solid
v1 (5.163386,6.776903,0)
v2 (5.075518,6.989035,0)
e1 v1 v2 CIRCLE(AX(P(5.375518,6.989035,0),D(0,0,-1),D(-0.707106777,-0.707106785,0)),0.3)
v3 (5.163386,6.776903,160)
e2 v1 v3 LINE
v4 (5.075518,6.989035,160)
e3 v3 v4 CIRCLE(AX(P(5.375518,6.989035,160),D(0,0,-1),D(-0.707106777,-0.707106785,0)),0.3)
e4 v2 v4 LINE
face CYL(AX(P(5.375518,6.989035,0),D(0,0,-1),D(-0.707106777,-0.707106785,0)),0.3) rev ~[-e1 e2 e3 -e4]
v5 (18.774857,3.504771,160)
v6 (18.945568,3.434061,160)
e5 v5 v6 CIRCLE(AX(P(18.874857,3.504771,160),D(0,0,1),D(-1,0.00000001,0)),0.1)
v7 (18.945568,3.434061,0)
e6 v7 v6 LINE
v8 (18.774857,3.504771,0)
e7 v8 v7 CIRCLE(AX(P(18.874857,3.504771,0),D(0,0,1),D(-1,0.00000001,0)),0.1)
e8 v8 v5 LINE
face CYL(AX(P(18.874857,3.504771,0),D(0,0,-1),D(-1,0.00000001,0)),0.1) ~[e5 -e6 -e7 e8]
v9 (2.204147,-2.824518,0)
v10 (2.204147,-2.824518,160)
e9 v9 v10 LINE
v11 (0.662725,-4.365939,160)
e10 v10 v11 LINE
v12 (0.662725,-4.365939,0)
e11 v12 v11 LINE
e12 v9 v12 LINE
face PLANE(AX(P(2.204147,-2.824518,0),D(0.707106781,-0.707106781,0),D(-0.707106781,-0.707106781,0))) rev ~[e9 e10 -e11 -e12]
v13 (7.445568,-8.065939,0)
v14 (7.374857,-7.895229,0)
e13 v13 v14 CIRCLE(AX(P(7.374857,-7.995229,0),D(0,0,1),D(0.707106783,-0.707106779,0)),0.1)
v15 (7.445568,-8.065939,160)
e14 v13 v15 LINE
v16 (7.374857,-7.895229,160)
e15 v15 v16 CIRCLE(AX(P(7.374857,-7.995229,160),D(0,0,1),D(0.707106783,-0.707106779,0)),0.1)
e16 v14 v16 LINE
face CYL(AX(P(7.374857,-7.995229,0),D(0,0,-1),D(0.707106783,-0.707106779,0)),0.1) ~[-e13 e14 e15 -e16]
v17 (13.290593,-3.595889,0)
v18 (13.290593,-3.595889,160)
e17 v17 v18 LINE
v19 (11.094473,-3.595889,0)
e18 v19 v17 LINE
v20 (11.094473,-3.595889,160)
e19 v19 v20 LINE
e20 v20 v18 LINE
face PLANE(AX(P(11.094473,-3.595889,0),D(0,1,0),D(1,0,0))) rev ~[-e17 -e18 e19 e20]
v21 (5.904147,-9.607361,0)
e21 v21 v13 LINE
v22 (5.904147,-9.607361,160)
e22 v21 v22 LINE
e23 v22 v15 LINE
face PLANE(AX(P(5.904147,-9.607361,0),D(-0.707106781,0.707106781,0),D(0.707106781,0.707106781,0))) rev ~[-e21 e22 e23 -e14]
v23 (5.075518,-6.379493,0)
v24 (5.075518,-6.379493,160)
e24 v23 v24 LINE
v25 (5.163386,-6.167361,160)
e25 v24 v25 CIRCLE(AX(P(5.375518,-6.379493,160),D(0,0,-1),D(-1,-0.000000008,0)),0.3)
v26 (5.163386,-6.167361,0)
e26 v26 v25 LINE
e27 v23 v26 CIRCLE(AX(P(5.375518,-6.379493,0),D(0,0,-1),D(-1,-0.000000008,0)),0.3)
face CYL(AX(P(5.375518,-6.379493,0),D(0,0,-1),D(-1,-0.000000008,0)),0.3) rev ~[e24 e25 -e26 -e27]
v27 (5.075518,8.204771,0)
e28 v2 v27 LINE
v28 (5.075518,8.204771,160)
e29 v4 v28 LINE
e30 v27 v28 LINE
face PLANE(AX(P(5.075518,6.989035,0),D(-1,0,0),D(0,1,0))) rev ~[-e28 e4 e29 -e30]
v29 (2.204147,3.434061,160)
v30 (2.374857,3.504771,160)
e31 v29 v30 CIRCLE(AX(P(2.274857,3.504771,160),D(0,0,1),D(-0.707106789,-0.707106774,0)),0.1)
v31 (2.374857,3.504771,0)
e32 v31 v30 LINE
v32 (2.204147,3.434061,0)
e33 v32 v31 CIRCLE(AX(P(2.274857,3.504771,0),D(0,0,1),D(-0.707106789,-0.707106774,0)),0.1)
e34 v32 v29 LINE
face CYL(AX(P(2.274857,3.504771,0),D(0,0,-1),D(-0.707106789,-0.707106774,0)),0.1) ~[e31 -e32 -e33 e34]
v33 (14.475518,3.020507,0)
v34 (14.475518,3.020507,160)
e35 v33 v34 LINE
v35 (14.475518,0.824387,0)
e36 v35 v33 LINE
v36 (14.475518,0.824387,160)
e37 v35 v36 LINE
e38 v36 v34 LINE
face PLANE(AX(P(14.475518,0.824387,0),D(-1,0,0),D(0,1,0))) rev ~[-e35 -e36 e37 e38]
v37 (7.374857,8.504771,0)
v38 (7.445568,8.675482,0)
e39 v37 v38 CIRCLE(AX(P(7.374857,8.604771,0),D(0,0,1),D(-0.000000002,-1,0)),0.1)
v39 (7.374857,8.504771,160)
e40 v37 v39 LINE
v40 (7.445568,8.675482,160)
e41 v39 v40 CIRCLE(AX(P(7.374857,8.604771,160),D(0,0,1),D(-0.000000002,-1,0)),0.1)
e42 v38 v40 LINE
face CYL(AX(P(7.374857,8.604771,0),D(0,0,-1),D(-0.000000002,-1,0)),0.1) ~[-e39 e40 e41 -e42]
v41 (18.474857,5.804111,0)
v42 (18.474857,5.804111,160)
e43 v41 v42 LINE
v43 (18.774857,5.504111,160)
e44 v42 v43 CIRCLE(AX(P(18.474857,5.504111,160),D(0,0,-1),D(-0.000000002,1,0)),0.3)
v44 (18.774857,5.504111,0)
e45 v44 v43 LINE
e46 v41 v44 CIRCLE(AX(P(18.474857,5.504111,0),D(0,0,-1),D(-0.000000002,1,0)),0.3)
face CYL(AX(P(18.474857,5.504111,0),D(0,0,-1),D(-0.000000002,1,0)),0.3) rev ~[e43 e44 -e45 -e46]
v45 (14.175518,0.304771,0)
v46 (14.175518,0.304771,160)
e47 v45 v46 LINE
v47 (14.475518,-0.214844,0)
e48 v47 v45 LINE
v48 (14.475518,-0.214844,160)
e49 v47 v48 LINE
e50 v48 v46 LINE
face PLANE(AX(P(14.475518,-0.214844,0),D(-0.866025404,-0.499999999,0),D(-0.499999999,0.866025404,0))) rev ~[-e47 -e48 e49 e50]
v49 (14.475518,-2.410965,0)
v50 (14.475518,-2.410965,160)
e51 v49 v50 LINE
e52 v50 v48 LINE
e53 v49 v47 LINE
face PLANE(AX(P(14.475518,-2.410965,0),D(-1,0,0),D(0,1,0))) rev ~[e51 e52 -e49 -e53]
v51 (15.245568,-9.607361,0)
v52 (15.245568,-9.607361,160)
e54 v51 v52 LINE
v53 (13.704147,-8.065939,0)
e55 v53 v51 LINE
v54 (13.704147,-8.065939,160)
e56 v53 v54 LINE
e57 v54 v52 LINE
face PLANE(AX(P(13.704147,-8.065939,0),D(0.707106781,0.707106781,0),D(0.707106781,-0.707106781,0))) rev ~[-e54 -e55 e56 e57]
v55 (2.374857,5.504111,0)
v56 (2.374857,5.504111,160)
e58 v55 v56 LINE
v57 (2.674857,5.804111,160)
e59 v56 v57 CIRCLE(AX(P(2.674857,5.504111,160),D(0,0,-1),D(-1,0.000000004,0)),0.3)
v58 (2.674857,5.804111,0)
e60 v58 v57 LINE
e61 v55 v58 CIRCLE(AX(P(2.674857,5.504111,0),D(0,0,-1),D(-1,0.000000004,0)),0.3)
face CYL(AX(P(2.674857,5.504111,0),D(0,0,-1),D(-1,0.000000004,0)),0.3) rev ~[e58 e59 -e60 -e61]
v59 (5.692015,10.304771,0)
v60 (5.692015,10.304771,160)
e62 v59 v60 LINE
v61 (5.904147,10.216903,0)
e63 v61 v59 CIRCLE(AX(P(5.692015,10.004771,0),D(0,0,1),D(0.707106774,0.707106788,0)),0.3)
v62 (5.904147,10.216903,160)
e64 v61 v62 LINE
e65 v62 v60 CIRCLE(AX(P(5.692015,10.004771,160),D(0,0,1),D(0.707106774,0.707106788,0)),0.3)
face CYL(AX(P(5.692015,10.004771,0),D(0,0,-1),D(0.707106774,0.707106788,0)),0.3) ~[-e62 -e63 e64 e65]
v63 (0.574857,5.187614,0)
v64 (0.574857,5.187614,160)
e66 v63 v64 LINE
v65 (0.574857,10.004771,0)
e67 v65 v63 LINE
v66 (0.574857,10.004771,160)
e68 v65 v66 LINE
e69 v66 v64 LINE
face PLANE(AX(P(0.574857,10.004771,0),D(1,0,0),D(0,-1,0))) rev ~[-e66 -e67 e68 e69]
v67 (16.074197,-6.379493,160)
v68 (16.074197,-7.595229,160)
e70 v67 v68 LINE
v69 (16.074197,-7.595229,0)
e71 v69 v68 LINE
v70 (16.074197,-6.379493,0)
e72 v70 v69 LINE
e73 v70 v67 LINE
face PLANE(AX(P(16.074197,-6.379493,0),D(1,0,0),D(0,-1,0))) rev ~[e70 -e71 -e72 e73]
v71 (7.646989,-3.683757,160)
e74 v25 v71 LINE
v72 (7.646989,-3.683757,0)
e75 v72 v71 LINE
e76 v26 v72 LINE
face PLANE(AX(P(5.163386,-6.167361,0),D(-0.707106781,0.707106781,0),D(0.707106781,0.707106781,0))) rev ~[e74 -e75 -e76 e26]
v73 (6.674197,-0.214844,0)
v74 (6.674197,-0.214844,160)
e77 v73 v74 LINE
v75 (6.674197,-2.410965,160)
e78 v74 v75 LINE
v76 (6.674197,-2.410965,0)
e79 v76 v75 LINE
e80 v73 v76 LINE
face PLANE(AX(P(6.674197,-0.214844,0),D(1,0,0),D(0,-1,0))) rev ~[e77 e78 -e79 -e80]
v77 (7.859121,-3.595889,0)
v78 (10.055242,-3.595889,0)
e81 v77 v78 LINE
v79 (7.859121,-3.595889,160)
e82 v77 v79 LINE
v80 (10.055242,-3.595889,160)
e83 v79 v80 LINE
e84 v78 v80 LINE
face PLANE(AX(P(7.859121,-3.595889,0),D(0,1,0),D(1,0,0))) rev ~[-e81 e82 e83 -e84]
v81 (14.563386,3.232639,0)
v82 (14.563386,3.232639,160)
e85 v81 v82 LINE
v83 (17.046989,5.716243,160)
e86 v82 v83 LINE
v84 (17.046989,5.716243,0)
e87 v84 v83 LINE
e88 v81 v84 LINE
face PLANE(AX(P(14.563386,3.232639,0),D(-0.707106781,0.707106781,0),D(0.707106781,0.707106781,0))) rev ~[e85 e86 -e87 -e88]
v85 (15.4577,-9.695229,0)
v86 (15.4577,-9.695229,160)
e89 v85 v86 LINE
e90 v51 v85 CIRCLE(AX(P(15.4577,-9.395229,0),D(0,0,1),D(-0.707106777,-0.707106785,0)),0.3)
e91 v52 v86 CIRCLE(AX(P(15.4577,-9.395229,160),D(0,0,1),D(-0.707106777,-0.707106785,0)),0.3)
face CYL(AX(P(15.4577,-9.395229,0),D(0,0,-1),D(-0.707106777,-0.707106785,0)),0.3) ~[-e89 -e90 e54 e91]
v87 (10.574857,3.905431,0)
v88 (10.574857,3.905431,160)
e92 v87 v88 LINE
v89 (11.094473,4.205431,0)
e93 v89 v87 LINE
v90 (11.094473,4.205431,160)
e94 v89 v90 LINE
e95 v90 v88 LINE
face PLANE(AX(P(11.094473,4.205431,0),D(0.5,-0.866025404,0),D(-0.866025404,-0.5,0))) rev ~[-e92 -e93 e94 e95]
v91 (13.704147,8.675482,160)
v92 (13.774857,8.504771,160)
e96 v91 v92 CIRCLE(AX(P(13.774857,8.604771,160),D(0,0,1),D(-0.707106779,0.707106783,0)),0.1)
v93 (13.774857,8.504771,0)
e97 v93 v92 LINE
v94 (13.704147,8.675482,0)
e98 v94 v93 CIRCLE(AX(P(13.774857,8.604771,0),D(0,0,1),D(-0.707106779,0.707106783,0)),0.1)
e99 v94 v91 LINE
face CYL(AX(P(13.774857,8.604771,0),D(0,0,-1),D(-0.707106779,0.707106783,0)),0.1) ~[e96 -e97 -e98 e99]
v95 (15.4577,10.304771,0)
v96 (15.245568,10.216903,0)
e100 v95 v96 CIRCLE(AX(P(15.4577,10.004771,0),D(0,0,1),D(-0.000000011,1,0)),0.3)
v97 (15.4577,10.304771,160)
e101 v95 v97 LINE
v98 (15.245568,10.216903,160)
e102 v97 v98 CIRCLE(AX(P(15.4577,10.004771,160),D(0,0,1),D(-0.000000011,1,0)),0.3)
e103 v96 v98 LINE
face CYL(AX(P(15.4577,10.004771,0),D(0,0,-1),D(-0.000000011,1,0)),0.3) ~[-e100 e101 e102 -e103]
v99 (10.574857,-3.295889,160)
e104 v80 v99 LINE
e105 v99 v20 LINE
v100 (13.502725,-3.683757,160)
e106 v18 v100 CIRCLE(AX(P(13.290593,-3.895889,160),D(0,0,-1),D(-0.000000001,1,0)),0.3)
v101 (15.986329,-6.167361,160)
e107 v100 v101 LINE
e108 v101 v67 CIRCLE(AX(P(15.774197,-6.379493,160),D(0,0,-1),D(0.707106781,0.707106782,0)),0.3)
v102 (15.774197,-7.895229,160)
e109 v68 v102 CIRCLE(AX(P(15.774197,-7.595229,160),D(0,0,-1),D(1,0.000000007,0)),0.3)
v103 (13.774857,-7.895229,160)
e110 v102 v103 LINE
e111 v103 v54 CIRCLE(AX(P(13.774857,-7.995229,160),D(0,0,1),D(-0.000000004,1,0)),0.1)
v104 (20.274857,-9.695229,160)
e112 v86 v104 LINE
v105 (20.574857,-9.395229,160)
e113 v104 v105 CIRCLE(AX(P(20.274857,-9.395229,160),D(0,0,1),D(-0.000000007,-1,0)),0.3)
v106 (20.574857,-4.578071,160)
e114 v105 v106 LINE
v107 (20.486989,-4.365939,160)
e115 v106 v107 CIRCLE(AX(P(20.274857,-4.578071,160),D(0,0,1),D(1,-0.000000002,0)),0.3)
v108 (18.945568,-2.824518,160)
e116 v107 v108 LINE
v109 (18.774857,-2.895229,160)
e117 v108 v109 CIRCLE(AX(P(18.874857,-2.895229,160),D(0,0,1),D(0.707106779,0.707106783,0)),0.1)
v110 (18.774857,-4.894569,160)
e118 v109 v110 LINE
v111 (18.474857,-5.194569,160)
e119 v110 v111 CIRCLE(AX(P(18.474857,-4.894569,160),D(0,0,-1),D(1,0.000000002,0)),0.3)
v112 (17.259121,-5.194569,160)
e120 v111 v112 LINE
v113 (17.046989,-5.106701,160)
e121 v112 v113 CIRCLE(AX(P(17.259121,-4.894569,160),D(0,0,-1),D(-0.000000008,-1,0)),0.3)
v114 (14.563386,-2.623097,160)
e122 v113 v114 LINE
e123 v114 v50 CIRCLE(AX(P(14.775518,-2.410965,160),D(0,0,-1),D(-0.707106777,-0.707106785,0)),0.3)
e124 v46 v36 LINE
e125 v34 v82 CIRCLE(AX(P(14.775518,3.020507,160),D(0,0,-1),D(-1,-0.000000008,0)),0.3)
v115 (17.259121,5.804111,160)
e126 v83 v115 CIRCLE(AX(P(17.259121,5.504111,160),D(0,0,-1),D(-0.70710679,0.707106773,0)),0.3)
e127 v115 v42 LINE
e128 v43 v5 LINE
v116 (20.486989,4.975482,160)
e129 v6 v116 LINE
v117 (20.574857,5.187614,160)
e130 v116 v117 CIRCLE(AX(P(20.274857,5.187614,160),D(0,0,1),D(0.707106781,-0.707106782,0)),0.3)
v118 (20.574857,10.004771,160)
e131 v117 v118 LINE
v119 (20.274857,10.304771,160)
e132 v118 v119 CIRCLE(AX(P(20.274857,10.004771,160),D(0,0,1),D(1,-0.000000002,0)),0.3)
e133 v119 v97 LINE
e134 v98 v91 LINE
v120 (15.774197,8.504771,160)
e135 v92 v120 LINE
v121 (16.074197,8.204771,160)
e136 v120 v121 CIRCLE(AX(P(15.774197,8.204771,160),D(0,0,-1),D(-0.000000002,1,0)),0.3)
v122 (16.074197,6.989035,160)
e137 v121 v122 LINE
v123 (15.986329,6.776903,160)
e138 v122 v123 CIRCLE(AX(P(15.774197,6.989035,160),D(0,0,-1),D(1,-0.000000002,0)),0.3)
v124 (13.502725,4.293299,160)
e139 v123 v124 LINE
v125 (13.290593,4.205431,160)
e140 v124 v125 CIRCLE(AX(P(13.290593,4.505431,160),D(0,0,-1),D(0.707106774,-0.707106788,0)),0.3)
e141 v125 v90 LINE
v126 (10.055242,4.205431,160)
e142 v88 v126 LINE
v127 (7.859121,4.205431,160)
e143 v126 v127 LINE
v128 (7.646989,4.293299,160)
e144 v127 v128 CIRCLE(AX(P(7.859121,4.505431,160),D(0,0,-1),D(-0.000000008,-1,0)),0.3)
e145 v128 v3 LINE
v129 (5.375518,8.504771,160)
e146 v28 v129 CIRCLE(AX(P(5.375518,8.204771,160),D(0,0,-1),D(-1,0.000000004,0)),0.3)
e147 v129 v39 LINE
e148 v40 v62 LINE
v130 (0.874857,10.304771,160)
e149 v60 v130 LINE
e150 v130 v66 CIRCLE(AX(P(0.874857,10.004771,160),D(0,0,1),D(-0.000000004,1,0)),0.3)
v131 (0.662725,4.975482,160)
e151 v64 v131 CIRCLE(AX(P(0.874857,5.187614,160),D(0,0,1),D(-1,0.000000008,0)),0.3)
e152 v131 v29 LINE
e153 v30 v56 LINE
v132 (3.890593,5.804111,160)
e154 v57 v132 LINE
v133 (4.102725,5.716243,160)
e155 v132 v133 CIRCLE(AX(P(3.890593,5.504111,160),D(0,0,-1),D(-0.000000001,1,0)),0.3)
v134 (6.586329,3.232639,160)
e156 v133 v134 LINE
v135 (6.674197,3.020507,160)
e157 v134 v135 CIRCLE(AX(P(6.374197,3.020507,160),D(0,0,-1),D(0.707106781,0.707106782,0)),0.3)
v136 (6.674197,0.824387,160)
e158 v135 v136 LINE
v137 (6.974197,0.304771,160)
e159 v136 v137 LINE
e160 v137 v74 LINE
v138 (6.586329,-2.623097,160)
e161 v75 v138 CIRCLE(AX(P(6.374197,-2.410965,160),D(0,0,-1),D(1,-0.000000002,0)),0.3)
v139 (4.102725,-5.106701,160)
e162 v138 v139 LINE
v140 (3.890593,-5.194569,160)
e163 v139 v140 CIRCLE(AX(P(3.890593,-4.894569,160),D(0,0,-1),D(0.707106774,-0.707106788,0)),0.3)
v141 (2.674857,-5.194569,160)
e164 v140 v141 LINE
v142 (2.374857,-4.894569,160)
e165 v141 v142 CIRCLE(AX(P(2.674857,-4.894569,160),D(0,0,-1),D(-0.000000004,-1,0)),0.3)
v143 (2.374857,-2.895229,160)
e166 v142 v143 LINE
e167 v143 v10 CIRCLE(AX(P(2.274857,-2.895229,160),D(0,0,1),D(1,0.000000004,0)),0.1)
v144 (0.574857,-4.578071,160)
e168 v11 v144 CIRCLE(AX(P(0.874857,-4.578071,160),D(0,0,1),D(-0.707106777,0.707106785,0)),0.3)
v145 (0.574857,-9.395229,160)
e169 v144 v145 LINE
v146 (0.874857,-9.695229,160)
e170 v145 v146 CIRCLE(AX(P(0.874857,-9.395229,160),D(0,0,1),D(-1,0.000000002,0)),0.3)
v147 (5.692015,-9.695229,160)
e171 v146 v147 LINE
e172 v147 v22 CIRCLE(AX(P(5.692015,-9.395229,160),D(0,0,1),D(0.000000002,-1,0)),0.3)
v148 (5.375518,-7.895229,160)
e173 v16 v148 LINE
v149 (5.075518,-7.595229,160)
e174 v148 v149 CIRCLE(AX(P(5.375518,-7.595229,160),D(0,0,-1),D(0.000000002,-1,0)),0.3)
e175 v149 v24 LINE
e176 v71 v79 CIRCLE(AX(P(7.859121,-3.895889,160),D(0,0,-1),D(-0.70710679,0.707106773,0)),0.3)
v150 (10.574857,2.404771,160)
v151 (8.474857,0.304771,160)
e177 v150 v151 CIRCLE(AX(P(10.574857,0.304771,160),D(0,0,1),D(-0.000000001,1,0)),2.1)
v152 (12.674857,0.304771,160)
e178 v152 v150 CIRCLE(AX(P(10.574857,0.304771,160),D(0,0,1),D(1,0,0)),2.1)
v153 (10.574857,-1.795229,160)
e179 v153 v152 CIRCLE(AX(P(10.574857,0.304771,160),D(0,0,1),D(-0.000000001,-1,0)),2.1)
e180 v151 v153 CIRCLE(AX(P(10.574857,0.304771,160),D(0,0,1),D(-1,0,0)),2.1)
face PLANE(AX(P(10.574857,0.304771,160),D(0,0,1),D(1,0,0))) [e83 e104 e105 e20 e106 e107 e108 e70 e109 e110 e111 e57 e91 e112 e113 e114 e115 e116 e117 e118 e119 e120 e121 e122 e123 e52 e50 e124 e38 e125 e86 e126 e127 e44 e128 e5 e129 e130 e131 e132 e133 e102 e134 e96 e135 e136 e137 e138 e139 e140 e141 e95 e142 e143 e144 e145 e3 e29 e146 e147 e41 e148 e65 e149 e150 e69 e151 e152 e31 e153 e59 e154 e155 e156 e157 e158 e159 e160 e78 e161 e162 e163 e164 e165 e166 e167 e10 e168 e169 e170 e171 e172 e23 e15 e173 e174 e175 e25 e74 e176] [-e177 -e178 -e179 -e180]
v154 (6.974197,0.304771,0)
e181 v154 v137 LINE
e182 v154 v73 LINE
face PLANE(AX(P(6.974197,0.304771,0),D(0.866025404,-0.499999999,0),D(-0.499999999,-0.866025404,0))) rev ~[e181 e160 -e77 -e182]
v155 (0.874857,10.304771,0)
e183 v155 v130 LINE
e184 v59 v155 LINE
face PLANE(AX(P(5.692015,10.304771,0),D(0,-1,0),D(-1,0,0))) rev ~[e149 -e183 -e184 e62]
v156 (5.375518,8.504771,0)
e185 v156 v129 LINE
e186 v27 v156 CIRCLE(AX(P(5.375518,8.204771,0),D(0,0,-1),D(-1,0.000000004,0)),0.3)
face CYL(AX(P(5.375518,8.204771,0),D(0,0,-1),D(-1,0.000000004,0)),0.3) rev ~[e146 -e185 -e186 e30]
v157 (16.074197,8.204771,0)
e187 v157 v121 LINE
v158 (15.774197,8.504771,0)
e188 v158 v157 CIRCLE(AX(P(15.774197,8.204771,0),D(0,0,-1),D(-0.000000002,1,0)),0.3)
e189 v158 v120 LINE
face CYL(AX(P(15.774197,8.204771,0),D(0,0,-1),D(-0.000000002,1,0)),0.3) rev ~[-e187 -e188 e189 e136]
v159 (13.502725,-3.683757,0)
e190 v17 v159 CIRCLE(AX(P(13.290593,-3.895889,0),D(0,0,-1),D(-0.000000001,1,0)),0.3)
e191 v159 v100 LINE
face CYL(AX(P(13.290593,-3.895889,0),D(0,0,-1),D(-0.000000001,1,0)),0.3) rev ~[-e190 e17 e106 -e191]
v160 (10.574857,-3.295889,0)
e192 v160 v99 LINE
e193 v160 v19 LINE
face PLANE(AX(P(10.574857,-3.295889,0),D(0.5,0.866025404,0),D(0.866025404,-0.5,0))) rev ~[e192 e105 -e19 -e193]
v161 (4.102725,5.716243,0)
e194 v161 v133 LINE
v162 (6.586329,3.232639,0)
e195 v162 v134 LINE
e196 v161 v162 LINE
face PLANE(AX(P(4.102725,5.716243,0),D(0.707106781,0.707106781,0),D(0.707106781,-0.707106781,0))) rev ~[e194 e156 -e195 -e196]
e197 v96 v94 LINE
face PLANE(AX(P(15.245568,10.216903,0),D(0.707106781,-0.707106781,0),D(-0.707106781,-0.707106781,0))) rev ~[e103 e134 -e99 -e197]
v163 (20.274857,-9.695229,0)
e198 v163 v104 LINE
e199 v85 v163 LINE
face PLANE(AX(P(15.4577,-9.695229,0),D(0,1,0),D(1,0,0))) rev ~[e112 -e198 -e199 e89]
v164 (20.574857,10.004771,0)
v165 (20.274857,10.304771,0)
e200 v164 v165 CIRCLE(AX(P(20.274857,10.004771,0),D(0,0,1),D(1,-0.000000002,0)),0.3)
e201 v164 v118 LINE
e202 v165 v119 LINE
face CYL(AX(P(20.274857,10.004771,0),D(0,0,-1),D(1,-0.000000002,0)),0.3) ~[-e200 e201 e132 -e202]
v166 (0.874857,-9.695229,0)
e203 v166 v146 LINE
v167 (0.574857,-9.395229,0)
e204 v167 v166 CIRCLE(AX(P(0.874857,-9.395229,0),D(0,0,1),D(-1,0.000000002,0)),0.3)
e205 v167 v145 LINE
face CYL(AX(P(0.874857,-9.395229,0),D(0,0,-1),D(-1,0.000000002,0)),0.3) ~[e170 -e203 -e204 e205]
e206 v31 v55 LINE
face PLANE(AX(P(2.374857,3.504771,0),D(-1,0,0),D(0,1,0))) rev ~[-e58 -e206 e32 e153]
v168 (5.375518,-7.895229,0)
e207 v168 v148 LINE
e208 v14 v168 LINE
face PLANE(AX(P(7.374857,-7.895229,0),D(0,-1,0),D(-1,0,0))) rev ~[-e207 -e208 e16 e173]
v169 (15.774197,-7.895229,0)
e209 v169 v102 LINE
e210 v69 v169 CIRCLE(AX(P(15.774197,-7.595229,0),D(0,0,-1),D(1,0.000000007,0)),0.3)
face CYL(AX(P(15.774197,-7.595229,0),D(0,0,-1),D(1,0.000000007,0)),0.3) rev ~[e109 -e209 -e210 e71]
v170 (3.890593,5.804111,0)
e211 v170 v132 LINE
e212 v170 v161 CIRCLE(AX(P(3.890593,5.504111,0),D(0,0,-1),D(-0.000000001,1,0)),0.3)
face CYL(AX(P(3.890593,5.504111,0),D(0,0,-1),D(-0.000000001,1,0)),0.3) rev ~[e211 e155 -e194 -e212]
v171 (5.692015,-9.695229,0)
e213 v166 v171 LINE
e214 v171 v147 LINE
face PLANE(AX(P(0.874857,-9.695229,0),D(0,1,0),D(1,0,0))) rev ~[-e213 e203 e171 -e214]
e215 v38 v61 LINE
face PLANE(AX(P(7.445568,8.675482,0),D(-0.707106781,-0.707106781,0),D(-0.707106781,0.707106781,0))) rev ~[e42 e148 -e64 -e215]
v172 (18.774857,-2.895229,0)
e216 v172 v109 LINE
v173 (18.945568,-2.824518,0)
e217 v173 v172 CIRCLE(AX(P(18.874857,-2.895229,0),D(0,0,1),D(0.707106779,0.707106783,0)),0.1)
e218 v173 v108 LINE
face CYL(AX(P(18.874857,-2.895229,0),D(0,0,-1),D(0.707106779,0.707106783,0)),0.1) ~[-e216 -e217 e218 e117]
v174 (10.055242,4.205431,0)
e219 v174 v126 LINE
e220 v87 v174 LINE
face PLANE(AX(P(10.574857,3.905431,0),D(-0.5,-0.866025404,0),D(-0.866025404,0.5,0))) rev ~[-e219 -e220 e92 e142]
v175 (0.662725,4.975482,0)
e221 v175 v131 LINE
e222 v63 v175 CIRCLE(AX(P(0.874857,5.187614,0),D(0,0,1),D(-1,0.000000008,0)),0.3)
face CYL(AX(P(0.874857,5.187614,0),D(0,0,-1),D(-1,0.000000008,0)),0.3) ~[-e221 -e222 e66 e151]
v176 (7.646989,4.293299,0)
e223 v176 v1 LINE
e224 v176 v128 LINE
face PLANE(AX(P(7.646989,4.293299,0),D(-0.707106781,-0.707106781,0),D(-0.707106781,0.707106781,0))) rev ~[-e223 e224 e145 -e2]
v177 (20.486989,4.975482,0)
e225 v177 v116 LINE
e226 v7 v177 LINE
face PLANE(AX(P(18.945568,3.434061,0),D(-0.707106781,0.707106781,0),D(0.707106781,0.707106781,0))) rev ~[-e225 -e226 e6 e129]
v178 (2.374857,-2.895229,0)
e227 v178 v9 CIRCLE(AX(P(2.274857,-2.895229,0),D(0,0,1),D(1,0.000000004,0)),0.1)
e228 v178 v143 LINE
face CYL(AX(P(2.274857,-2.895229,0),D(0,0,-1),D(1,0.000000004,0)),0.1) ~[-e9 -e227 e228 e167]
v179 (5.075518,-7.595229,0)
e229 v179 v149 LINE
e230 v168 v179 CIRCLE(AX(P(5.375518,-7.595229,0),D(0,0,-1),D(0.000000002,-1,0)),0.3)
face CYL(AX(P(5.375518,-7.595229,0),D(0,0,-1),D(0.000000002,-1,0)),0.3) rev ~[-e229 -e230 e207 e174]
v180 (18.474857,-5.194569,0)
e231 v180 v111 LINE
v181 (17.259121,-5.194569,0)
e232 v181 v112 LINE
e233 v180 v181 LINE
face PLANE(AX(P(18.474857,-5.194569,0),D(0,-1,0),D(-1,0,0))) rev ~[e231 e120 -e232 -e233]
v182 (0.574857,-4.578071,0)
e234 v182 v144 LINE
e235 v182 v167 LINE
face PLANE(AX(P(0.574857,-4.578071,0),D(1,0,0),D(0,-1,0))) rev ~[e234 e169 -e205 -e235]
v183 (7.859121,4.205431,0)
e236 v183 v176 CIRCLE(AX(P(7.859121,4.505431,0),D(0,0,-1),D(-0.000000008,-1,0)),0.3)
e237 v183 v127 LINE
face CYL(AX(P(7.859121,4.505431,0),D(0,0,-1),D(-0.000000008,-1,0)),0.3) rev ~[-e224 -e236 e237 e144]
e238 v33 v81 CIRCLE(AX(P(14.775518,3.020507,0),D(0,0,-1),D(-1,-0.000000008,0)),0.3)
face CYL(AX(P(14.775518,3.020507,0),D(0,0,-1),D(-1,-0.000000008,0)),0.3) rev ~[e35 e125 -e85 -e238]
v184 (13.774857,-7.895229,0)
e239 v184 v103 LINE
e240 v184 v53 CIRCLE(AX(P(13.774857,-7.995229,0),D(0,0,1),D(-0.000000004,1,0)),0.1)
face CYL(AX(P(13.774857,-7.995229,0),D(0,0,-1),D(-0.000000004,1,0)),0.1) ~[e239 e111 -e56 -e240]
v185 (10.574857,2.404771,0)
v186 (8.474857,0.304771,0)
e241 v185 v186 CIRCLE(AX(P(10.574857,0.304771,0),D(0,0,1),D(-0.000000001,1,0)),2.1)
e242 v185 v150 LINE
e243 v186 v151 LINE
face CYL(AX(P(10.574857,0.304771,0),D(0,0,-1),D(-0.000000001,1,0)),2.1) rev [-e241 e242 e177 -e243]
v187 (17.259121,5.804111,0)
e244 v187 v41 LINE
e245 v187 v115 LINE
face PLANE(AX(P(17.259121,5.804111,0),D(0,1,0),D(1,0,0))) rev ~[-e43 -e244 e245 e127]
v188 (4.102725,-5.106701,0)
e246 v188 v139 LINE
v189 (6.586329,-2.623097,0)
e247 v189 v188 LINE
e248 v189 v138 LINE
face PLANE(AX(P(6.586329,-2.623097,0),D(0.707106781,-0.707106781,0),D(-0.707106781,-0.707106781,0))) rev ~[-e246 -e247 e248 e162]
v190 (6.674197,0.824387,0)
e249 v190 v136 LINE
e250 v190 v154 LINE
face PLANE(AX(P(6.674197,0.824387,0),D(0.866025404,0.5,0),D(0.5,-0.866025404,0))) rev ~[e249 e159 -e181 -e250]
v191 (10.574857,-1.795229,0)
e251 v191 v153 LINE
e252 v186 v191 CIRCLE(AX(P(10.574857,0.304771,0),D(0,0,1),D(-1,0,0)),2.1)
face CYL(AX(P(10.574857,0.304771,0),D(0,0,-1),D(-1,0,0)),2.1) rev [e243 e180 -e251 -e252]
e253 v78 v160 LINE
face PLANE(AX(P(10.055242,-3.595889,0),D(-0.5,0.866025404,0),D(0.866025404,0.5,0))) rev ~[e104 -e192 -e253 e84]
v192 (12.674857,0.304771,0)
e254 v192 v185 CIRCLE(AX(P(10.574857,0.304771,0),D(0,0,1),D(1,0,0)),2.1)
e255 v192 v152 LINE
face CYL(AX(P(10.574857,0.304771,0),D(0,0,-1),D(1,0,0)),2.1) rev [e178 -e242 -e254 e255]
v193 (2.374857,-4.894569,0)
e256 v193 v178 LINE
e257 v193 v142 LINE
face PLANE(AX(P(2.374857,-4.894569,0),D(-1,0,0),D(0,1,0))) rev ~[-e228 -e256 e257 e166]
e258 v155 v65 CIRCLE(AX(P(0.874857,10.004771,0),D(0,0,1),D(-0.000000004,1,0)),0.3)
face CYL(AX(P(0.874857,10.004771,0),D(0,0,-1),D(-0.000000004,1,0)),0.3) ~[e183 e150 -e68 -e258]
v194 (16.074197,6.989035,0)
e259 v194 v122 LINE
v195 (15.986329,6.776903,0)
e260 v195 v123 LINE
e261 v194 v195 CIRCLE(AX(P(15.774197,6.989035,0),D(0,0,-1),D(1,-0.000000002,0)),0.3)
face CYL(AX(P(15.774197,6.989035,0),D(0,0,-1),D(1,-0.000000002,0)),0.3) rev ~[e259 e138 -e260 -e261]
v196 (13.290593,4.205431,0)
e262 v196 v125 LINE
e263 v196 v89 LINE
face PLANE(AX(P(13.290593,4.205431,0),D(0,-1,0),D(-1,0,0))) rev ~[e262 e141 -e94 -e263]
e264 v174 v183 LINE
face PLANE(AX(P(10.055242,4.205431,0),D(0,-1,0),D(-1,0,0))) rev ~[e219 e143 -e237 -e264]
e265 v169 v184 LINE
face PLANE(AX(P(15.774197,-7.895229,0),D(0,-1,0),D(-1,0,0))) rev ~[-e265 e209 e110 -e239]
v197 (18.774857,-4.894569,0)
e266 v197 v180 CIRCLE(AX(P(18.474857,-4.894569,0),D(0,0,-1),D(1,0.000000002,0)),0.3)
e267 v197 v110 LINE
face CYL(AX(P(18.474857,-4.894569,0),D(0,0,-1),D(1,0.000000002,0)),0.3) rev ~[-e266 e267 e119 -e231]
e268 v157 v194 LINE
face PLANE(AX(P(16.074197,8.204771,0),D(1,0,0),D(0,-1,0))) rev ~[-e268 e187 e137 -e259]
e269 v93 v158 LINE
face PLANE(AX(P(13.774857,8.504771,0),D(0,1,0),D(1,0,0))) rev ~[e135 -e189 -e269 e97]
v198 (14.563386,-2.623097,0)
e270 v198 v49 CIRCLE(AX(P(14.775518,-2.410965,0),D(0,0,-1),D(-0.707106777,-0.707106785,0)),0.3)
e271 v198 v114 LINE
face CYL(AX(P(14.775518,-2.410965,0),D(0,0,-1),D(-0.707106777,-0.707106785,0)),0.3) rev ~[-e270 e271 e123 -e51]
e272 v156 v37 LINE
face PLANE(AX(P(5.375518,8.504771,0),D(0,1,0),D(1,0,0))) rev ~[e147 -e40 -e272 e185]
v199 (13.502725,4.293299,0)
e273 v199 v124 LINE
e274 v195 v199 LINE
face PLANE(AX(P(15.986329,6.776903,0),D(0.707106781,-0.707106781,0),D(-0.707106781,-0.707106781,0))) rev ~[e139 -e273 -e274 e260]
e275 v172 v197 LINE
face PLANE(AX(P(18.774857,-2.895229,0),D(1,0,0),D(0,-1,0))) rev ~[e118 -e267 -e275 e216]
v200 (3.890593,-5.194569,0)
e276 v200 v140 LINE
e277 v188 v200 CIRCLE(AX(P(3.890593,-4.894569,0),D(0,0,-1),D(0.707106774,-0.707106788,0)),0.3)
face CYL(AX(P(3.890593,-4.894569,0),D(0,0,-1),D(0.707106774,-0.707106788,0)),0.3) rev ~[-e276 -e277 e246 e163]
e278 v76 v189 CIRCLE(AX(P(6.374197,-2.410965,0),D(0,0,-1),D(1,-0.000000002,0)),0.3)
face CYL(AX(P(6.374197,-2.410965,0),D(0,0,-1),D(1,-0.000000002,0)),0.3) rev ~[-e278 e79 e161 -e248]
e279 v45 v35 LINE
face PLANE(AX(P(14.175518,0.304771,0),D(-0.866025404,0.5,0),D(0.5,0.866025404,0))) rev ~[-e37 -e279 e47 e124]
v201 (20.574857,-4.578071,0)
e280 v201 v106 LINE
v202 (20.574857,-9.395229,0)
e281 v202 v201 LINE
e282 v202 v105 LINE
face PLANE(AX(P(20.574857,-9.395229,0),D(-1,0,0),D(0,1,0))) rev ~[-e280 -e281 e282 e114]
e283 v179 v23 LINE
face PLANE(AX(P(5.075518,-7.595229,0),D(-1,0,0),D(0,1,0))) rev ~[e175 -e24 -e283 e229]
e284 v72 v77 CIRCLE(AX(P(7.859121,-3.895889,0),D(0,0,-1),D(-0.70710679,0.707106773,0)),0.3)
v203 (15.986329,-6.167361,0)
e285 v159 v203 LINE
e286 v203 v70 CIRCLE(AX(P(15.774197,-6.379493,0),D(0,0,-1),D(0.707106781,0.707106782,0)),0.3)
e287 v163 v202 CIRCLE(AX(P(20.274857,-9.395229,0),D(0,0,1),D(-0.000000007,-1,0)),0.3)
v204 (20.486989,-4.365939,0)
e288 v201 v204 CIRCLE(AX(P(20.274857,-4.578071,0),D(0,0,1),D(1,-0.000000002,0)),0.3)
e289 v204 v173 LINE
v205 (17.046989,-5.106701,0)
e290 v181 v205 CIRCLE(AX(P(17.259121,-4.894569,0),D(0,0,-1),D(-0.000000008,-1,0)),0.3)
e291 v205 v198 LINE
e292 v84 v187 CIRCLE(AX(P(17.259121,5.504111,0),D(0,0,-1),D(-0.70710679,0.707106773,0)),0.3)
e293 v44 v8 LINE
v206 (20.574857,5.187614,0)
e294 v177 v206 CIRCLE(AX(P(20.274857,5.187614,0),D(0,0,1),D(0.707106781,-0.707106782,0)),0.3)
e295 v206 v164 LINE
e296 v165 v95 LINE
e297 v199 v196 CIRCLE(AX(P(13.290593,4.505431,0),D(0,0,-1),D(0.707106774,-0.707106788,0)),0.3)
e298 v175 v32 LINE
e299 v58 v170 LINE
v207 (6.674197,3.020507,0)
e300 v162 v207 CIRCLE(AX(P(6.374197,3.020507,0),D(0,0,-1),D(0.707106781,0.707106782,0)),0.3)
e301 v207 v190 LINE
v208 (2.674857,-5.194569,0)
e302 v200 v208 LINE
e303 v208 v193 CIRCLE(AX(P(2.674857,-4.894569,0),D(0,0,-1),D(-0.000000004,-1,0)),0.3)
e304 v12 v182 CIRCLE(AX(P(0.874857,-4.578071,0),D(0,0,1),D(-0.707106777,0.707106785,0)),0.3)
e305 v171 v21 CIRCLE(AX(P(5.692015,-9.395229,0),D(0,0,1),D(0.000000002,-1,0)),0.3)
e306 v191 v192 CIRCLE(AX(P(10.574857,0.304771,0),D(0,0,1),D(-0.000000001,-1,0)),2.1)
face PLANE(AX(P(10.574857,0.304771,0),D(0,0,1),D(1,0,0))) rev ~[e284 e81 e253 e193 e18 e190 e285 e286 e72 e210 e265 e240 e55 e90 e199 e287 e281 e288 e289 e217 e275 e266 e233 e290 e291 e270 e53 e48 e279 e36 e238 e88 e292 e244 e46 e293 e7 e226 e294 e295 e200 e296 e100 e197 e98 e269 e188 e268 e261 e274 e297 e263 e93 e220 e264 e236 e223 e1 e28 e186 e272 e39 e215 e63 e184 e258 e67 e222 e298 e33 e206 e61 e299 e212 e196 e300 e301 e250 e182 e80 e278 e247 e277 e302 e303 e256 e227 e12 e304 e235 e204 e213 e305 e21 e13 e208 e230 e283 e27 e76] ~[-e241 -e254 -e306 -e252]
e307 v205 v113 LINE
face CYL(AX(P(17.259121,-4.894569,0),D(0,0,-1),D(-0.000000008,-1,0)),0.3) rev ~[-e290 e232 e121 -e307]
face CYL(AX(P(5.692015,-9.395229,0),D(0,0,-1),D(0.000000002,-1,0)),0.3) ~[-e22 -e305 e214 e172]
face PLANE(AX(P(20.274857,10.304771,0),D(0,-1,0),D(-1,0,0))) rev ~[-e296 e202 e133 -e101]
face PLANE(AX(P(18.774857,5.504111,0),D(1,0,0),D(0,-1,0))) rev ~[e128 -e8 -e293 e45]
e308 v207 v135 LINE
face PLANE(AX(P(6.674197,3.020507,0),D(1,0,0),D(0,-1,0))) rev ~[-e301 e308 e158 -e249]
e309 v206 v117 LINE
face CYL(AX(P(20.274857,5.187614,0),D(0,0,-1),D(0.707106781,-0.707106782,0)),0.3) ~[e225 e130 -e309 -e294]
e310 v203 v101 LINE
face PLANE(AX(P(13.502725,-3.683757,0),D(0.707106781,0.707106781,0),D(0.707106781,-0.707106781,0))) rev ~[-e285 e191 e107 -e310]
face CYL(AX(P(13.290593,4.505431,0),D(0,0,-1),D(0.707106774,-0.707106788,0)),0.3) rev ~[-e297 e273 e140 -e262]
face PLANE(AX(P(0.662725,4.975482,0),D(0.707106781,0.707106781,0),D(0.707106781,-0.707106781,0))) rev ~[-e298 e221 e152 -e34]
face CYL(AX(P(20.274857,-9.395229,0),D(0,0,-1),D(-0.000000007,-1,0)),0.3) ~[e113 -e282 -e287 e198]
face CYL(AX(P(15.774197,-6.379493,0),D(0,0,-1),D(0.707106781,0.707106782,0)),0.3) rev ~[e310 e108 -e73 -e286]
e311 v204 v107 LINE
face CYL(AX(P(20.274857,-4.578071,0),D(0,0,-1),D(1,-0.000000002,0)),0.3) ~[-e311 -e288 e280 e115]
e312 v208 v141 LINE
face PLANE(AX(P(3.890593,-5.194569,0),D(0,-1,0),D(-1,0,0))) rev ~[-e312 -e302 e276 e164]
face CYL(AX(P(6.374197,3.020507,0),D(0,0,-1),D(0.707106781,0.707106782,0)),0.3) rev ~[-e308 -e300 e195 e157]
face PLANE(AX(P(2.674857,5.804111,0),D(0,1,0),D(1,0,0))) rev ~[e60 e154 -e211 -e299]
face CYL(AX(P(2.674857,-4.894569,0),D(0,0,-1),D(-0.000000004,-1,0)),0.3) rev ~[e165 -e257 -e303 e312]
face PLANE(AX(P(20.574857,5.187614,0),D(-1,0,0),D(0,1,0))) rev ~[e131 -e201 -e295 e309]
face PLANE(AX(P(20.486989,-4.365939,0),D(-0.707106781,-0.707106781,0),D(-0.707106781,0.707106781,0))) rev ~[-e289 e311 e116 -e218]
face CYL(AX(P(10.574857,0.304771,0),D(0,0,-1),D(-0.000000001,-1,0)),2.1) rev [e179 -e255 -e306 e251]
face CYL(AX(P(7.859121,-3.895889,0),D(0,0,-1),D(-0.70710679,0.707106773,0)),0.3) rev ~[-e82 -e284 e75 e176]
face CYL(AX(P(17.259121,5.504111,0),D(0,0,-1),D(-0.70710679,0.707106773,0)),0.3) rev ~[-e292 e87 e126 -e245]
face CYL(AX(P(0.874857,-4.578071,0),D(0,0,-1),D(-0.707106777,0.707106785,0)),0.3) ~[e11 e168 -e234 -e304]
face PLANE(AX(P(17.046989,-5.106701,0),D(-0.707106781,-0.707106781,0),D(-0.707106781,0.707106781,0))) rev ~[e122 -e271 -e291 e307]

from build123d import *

# Parameters (mm, degrees)
BOSS_EXTRU_1_DEPTH = 160


with BuildPart() as part:
    # Esquisse1 → Boss.-Extru.1 (new body)
    with BuildSketch(Plane.XY):
        with BuildLine():
            Line((18.774857412, -2.895228684), (18.774857412, -4.894568513))
            ThreePointArc((18.774857412, -4.894568513), (18.686989447, -5.106700547), (18.474857412, -5.194568513))
            Line((18.474857412, -5.194568513), (17.259121481, -5.194568513))
            ThreePointArc((17.259121481, -5.194568513), (17.144316451, -5.171732372), (17.046989447, -5.106700547))
            Line((17.046989447, -5.106700547), (14.56338555, -2.62309665))
            ThreePointArc((14.56338555, -2.62309665), (14.498353724, -2.525769645), (14.475517584, -2.410964616))
            Line((14.475517584, -2.410964616), (14.475517584, -0.214843927))
            Line((14.475517584, -0.214843927), (14.175517584, 0.304771316))
            Line((14.175517584, 0.304771316), (14.475517584, 0.824386558))
            Line((14.475517584, 0.824386558), (14.475517584, 3.020507247))
            ThreePointArc((14.475517584, 3.020507247), (14.498353724, 3.135312277), (14.56338555, 3.232639281))
            Line((14.56338555, 3.232639281), (17.046989447, 5.716243178))
            ThreePointArc((17.046989447, 5.716243178), (17.144316451, 5.781275004), (17.259121481, 5.804111144))
            Line((17.259121481, 5.804111144), (18.474857412, 5.804111144))
            ThreePointArc((18.474857412, 5.804111144), (18.686989447, 5.716243178), (18.774857412, 5.504111144))
            Line((18.774857412, 5.504111144), (18.774857412, 3.504771316))
            ThreePointArc((18.774857412, 3.504771316), (18.836589069, 3.412383362), (18.94556809, 3.434060638))
            Line((18.94556809, 3.434060638), (20.486989447, 4.975481994))
            ThreePointArc((20.486989447, 4.975481994), (20.552021272, 5.072808998), (20.574857412, 5.187614028))
            Line((20.574857412, 5.187614028), (20.574857412, 10.004771316))
            ThreePointArc((20.574857412, 10.004771316), (20.486989447, 10.21690335), (20.274857412, 10.304771316))
            Line((20.274857412, 10.304771316), (15.457700125, 10.304771316))
            ThreePointArc((15.457700125, 10.304771316), (15.342895095, 10.281935175), (15.24556809, 10.21690335))
            Line((15.24556809, 10.21690335), (13.704146734, 8.675481994))
            ThreePointArc((13.704146734, 8.675481994), (13.682469459, 8.566502972), (13.774857412, 8.504771316))
            Line((13.774857412, 8.504771316), (15.77419724, 8.504771316))
            ThreePointArc((15.77419724, 8.504771316), (15.986329275, 8.41690335), (16.07419724, 8.204771316))
            Line((16.07419724, 8.204771316), (16.07419724, 6.989035384))
            ThreePointArc((16.07419724, 6.989035384), (16.0513611, 6.874230355), (15.986329275, 6.77690335))
            Line((15.986329275, 6.77690335), (13.502725378, 4.293299453))
            ThreePointArc((13.502725378, 4.293299453), (13.405398373, 4.228267628), (13.290593344, 4.205431487))
            Line((13.290593344, 4.205431487), (11.094472654, 4.205431487))
            Line((11.094472654, 4.205431487), (10.574857412, 3.905431487))
            Line((10.574857412, 3.905431487), (10.05524217, 4.205431487))
            Line((10.05524217, 4.205431487), (7.859121481, 4.205431487))
            ThreePointArc((7.859121481, 4.205431487), (7.744316451, 4.228267628), (7.646989447, 4.293299453))
            Line((7.646989447, 4.293299453), (5.16338555, 6.77690335))
            ThreePointArc((5.16338555, 6.77690335), (5.098353724, 6.874230355), (5.075517584, 6.989035384))
            Line((5.075517584, 6.989035384), (5.075517584, 8.204771316))
            ThreePointArc((5.075517584, 8.204771316), (5.16338555, 8.41690335), (5.375517584, 8.504771316))
            Line((5.375517584, 8.504771316), (7.374857412, 8.504771316))
            ThreePointArc((7.374857412, 8.504771316), (7.467245365, 8.566502972), (7.44556809, 8.675481994))
            Line((7.44556809, 8.675481994), (5.904146734, 10.21690335))
            ThreePointArc((5.904146734, 10.21690335), (5.806819729, 10.281935175), (5.6920147, 10.304771316))
            Line((5.6920147, 10.304771316), (0.874857412, 10.304771316))
            ThreePointArc((0.874857412, 10.304771316), (0.662725378, 10.21690335), (0.574857412, 10.004771316))
            Line((0.574857412, 10.004771316), (0.574857412, 5.187614028))
            ThreePointArc((0.574857412, 5.187614028), (0.597693552, 5.072808998), (0.662725378, 4.975481994))
            Line((0.662725378, 4.975481994), (2.204146734, 3.434060638))
            ThreePointArc((2.204146734, 3.434060638), (2.313125755, 3.412383362), (2.374857412, 3.504771316))
            Line((2.374857412, 3.504771316), (2.374857412, 5.504111144))
            ThreePointArc((2.374857412, 5.504111144), (2.462725378, 5.716243178), (2.674857412, 5.804111144))
            Line((2.674857412, 5.804111144), (3.890593344, 5.804111144))
            ThreePointArc((3.890593344, 5.804111144), (4.005398373, 5.781275004), (4.102725378, 5.716243178))
            Line((4.102725378, 5.716243178), (6.586329275, 3.232639281))
            ThreePointArc((6.586329275, 3.232639281), (6.6513611, 3.135312277), (6.67419724, 3.020507247))
            Line((6.67419724, 3.020507247), (6.67419724, 0.824386558))
            Line((6.67419724, 0.824386558), (6.97419724, 0.304771316))
            Line((6.97419724, 0.304771316), (6.67419724, -0.214843927))
            Line((6.67419724, -0.214843927), (6.67419724, -2.410964616))
            ThreePointArc((6.67419724, -2.410964616), (6.6513611, -2.525769645), (6.586329275, -2.62309665))
            Line((6.586329275, -2.62309665), (4.102725378, -5.106700547))
            ThreePointArc((4.102725378, -5.106700547), (4.005398373, -5.171732372), (3.890593344, -5.194568513))
            Line((3.890593344, -5.194568513), (2.674857412, -5.194568513))
            ThreePointArc((2.674857412, -5.194568513), (2.462725378, -5.106700547), (2.374857412, -4.894568513))
            Line((2.374857412, -4.894568513), (2.374857412, -2.895228684))
            ThreePointArc((2.374857412, -2.895228684), (2.313125755, -2.802840731), (2.204146734, -2.824518006))
            Line((2.204146734, -2.824518006), (0.662725378, -4.365939362))
            ThreePointArc((0.662725378, -4.365939362), (0.597693552, -4.463266367), (0.574857412, -4.578071397))
            Line((0.574857412, -4.578071397), (0.574857412, -9.395228684))
            ThreePointArc((0.574857412, -9.395228684), (0.662725378, -9.607360719), (0.874857412, -9.695228684))
            Line((0.874857412, -9.695228684), (5.6920147, -9.695228684))
            ThreePointArc((5.6920147, -9.695228684), (5.806819729, -9.672392544), (5.904146734, -9.607360719))
            Line((5.904146734, -9.607360719), (7.44556809, -8.065939362))
            ThreePointArc((7.44556809, -8.065939362), (7.467245365, -7.956960341), (7.374857412, -7.895228684))
            Line((7.374857412, -7.895228684), (5.375517584, -7.895228684))
            ThreePointArc((5.375517584, -7.895228684), (5.16338555, -7.807360719), (5.075517584, -7.595228684))
            Line((5.075517584, -7.595228684), (5.075517584, -6.379492753))
            ThreePointArc((5.075517584, -6.379492753), (5.098353724, -6.264687723), (5.16338555, -6.167360719))
            Line((5.16338555, -6.167360719), (7.646989447, -3.683756822))
            ThreePointArc((7.646989447, -3.683756822), (7.744316451, -3.618724996), (7.859121481, -3.595888856))
            Line((7.859121481, -3.595888856), (10.05524217, -3.595888856))
            Line((10.05524217, -3.595888856), (10.574857412, -3.295888856))
            Line((10.574857412, -3.295888856), (11.094472654, -3.595888856))
            Line((11.094472654, -3.595888856), (13.290593344, -3.595888856))
            ThreePointArc((13.290593344, -3.595888856), (13.405398373, -3.618724996), (13.502725378, -3.683756822))
            Line((13.502725378, -3.683756822), (15.986329275, -6.167360719))
            ThreePointArc((15.986329275, -6.167360719), (16.0513611, -6.264687723), (16.07419724, -6.379492753))
            Line((16.07419724, -6.379492753), (16.07419724, -7.595228684))
            ThreePointArc((16.07419724, -7.595228684), (15.986329275, -7.807360719), (15.77419724, -7.895228684))
            Line((15.77419724, -7.895228684), (13.774857412, -7.895228684))
            ThreePointArc((13.774857412, -7.895228684), (13.682469459, -7.956960341), (13.704146734, -8.065939362))
            Line((13.704146734, -8.065939362), (15.24556809, -9.607360719))
            ThreePointArc((15.24556809, -9.607360719), (15.342895095, -9.672392544), (15.457700125, -9.695228684))
            Line((15.457700125, -9.695228684), (20.274857412, -9.695228684))
            ThreePointArc((20.274857412, -9.695228684), (20.486989447, -9.607360719), (20.574857412, -9.395228684))
            Line((20.574857412, -9.395228684), (20.574857412, -4.578071397))
            ThreePointArc((20.574857412, -4.578071397), (20.552021272, -4.463266367), (20.486989447, -4.365939362))
            Line((20.486989447, -4.365939362), (18.94556809, -2.824518006))
            ThreePointArc((18.94556809, -2.824518006), (18.836589069, -2.802840731), (18.774857412, -2.895228684))
        make_face()
        with BuildLine():
            ThreePointArc((10.574857412, -1.795228684), (12.059781653, -1.180152925), (12.674857412, 0.304771316))
            ThreePointArc((12.674857412, 0.304771316), (12.059781653, 1.789695556), (10.574857412, 2.404771316))
            ThreePointArc((10.574857412, 2.404771316), (9.089933172, 1.789695556), (8.474857412, 0.304771316))
            ThreePointArc((8.474857412, 0.304771316), (9.089933172, -1.180152925), (10.574857412, -1.795228684))
        make_face(mode=Mode.SUBTRACT)
    extrude(amount=BOSS_EXTRU_1_DEPTH)


solid = part.part
